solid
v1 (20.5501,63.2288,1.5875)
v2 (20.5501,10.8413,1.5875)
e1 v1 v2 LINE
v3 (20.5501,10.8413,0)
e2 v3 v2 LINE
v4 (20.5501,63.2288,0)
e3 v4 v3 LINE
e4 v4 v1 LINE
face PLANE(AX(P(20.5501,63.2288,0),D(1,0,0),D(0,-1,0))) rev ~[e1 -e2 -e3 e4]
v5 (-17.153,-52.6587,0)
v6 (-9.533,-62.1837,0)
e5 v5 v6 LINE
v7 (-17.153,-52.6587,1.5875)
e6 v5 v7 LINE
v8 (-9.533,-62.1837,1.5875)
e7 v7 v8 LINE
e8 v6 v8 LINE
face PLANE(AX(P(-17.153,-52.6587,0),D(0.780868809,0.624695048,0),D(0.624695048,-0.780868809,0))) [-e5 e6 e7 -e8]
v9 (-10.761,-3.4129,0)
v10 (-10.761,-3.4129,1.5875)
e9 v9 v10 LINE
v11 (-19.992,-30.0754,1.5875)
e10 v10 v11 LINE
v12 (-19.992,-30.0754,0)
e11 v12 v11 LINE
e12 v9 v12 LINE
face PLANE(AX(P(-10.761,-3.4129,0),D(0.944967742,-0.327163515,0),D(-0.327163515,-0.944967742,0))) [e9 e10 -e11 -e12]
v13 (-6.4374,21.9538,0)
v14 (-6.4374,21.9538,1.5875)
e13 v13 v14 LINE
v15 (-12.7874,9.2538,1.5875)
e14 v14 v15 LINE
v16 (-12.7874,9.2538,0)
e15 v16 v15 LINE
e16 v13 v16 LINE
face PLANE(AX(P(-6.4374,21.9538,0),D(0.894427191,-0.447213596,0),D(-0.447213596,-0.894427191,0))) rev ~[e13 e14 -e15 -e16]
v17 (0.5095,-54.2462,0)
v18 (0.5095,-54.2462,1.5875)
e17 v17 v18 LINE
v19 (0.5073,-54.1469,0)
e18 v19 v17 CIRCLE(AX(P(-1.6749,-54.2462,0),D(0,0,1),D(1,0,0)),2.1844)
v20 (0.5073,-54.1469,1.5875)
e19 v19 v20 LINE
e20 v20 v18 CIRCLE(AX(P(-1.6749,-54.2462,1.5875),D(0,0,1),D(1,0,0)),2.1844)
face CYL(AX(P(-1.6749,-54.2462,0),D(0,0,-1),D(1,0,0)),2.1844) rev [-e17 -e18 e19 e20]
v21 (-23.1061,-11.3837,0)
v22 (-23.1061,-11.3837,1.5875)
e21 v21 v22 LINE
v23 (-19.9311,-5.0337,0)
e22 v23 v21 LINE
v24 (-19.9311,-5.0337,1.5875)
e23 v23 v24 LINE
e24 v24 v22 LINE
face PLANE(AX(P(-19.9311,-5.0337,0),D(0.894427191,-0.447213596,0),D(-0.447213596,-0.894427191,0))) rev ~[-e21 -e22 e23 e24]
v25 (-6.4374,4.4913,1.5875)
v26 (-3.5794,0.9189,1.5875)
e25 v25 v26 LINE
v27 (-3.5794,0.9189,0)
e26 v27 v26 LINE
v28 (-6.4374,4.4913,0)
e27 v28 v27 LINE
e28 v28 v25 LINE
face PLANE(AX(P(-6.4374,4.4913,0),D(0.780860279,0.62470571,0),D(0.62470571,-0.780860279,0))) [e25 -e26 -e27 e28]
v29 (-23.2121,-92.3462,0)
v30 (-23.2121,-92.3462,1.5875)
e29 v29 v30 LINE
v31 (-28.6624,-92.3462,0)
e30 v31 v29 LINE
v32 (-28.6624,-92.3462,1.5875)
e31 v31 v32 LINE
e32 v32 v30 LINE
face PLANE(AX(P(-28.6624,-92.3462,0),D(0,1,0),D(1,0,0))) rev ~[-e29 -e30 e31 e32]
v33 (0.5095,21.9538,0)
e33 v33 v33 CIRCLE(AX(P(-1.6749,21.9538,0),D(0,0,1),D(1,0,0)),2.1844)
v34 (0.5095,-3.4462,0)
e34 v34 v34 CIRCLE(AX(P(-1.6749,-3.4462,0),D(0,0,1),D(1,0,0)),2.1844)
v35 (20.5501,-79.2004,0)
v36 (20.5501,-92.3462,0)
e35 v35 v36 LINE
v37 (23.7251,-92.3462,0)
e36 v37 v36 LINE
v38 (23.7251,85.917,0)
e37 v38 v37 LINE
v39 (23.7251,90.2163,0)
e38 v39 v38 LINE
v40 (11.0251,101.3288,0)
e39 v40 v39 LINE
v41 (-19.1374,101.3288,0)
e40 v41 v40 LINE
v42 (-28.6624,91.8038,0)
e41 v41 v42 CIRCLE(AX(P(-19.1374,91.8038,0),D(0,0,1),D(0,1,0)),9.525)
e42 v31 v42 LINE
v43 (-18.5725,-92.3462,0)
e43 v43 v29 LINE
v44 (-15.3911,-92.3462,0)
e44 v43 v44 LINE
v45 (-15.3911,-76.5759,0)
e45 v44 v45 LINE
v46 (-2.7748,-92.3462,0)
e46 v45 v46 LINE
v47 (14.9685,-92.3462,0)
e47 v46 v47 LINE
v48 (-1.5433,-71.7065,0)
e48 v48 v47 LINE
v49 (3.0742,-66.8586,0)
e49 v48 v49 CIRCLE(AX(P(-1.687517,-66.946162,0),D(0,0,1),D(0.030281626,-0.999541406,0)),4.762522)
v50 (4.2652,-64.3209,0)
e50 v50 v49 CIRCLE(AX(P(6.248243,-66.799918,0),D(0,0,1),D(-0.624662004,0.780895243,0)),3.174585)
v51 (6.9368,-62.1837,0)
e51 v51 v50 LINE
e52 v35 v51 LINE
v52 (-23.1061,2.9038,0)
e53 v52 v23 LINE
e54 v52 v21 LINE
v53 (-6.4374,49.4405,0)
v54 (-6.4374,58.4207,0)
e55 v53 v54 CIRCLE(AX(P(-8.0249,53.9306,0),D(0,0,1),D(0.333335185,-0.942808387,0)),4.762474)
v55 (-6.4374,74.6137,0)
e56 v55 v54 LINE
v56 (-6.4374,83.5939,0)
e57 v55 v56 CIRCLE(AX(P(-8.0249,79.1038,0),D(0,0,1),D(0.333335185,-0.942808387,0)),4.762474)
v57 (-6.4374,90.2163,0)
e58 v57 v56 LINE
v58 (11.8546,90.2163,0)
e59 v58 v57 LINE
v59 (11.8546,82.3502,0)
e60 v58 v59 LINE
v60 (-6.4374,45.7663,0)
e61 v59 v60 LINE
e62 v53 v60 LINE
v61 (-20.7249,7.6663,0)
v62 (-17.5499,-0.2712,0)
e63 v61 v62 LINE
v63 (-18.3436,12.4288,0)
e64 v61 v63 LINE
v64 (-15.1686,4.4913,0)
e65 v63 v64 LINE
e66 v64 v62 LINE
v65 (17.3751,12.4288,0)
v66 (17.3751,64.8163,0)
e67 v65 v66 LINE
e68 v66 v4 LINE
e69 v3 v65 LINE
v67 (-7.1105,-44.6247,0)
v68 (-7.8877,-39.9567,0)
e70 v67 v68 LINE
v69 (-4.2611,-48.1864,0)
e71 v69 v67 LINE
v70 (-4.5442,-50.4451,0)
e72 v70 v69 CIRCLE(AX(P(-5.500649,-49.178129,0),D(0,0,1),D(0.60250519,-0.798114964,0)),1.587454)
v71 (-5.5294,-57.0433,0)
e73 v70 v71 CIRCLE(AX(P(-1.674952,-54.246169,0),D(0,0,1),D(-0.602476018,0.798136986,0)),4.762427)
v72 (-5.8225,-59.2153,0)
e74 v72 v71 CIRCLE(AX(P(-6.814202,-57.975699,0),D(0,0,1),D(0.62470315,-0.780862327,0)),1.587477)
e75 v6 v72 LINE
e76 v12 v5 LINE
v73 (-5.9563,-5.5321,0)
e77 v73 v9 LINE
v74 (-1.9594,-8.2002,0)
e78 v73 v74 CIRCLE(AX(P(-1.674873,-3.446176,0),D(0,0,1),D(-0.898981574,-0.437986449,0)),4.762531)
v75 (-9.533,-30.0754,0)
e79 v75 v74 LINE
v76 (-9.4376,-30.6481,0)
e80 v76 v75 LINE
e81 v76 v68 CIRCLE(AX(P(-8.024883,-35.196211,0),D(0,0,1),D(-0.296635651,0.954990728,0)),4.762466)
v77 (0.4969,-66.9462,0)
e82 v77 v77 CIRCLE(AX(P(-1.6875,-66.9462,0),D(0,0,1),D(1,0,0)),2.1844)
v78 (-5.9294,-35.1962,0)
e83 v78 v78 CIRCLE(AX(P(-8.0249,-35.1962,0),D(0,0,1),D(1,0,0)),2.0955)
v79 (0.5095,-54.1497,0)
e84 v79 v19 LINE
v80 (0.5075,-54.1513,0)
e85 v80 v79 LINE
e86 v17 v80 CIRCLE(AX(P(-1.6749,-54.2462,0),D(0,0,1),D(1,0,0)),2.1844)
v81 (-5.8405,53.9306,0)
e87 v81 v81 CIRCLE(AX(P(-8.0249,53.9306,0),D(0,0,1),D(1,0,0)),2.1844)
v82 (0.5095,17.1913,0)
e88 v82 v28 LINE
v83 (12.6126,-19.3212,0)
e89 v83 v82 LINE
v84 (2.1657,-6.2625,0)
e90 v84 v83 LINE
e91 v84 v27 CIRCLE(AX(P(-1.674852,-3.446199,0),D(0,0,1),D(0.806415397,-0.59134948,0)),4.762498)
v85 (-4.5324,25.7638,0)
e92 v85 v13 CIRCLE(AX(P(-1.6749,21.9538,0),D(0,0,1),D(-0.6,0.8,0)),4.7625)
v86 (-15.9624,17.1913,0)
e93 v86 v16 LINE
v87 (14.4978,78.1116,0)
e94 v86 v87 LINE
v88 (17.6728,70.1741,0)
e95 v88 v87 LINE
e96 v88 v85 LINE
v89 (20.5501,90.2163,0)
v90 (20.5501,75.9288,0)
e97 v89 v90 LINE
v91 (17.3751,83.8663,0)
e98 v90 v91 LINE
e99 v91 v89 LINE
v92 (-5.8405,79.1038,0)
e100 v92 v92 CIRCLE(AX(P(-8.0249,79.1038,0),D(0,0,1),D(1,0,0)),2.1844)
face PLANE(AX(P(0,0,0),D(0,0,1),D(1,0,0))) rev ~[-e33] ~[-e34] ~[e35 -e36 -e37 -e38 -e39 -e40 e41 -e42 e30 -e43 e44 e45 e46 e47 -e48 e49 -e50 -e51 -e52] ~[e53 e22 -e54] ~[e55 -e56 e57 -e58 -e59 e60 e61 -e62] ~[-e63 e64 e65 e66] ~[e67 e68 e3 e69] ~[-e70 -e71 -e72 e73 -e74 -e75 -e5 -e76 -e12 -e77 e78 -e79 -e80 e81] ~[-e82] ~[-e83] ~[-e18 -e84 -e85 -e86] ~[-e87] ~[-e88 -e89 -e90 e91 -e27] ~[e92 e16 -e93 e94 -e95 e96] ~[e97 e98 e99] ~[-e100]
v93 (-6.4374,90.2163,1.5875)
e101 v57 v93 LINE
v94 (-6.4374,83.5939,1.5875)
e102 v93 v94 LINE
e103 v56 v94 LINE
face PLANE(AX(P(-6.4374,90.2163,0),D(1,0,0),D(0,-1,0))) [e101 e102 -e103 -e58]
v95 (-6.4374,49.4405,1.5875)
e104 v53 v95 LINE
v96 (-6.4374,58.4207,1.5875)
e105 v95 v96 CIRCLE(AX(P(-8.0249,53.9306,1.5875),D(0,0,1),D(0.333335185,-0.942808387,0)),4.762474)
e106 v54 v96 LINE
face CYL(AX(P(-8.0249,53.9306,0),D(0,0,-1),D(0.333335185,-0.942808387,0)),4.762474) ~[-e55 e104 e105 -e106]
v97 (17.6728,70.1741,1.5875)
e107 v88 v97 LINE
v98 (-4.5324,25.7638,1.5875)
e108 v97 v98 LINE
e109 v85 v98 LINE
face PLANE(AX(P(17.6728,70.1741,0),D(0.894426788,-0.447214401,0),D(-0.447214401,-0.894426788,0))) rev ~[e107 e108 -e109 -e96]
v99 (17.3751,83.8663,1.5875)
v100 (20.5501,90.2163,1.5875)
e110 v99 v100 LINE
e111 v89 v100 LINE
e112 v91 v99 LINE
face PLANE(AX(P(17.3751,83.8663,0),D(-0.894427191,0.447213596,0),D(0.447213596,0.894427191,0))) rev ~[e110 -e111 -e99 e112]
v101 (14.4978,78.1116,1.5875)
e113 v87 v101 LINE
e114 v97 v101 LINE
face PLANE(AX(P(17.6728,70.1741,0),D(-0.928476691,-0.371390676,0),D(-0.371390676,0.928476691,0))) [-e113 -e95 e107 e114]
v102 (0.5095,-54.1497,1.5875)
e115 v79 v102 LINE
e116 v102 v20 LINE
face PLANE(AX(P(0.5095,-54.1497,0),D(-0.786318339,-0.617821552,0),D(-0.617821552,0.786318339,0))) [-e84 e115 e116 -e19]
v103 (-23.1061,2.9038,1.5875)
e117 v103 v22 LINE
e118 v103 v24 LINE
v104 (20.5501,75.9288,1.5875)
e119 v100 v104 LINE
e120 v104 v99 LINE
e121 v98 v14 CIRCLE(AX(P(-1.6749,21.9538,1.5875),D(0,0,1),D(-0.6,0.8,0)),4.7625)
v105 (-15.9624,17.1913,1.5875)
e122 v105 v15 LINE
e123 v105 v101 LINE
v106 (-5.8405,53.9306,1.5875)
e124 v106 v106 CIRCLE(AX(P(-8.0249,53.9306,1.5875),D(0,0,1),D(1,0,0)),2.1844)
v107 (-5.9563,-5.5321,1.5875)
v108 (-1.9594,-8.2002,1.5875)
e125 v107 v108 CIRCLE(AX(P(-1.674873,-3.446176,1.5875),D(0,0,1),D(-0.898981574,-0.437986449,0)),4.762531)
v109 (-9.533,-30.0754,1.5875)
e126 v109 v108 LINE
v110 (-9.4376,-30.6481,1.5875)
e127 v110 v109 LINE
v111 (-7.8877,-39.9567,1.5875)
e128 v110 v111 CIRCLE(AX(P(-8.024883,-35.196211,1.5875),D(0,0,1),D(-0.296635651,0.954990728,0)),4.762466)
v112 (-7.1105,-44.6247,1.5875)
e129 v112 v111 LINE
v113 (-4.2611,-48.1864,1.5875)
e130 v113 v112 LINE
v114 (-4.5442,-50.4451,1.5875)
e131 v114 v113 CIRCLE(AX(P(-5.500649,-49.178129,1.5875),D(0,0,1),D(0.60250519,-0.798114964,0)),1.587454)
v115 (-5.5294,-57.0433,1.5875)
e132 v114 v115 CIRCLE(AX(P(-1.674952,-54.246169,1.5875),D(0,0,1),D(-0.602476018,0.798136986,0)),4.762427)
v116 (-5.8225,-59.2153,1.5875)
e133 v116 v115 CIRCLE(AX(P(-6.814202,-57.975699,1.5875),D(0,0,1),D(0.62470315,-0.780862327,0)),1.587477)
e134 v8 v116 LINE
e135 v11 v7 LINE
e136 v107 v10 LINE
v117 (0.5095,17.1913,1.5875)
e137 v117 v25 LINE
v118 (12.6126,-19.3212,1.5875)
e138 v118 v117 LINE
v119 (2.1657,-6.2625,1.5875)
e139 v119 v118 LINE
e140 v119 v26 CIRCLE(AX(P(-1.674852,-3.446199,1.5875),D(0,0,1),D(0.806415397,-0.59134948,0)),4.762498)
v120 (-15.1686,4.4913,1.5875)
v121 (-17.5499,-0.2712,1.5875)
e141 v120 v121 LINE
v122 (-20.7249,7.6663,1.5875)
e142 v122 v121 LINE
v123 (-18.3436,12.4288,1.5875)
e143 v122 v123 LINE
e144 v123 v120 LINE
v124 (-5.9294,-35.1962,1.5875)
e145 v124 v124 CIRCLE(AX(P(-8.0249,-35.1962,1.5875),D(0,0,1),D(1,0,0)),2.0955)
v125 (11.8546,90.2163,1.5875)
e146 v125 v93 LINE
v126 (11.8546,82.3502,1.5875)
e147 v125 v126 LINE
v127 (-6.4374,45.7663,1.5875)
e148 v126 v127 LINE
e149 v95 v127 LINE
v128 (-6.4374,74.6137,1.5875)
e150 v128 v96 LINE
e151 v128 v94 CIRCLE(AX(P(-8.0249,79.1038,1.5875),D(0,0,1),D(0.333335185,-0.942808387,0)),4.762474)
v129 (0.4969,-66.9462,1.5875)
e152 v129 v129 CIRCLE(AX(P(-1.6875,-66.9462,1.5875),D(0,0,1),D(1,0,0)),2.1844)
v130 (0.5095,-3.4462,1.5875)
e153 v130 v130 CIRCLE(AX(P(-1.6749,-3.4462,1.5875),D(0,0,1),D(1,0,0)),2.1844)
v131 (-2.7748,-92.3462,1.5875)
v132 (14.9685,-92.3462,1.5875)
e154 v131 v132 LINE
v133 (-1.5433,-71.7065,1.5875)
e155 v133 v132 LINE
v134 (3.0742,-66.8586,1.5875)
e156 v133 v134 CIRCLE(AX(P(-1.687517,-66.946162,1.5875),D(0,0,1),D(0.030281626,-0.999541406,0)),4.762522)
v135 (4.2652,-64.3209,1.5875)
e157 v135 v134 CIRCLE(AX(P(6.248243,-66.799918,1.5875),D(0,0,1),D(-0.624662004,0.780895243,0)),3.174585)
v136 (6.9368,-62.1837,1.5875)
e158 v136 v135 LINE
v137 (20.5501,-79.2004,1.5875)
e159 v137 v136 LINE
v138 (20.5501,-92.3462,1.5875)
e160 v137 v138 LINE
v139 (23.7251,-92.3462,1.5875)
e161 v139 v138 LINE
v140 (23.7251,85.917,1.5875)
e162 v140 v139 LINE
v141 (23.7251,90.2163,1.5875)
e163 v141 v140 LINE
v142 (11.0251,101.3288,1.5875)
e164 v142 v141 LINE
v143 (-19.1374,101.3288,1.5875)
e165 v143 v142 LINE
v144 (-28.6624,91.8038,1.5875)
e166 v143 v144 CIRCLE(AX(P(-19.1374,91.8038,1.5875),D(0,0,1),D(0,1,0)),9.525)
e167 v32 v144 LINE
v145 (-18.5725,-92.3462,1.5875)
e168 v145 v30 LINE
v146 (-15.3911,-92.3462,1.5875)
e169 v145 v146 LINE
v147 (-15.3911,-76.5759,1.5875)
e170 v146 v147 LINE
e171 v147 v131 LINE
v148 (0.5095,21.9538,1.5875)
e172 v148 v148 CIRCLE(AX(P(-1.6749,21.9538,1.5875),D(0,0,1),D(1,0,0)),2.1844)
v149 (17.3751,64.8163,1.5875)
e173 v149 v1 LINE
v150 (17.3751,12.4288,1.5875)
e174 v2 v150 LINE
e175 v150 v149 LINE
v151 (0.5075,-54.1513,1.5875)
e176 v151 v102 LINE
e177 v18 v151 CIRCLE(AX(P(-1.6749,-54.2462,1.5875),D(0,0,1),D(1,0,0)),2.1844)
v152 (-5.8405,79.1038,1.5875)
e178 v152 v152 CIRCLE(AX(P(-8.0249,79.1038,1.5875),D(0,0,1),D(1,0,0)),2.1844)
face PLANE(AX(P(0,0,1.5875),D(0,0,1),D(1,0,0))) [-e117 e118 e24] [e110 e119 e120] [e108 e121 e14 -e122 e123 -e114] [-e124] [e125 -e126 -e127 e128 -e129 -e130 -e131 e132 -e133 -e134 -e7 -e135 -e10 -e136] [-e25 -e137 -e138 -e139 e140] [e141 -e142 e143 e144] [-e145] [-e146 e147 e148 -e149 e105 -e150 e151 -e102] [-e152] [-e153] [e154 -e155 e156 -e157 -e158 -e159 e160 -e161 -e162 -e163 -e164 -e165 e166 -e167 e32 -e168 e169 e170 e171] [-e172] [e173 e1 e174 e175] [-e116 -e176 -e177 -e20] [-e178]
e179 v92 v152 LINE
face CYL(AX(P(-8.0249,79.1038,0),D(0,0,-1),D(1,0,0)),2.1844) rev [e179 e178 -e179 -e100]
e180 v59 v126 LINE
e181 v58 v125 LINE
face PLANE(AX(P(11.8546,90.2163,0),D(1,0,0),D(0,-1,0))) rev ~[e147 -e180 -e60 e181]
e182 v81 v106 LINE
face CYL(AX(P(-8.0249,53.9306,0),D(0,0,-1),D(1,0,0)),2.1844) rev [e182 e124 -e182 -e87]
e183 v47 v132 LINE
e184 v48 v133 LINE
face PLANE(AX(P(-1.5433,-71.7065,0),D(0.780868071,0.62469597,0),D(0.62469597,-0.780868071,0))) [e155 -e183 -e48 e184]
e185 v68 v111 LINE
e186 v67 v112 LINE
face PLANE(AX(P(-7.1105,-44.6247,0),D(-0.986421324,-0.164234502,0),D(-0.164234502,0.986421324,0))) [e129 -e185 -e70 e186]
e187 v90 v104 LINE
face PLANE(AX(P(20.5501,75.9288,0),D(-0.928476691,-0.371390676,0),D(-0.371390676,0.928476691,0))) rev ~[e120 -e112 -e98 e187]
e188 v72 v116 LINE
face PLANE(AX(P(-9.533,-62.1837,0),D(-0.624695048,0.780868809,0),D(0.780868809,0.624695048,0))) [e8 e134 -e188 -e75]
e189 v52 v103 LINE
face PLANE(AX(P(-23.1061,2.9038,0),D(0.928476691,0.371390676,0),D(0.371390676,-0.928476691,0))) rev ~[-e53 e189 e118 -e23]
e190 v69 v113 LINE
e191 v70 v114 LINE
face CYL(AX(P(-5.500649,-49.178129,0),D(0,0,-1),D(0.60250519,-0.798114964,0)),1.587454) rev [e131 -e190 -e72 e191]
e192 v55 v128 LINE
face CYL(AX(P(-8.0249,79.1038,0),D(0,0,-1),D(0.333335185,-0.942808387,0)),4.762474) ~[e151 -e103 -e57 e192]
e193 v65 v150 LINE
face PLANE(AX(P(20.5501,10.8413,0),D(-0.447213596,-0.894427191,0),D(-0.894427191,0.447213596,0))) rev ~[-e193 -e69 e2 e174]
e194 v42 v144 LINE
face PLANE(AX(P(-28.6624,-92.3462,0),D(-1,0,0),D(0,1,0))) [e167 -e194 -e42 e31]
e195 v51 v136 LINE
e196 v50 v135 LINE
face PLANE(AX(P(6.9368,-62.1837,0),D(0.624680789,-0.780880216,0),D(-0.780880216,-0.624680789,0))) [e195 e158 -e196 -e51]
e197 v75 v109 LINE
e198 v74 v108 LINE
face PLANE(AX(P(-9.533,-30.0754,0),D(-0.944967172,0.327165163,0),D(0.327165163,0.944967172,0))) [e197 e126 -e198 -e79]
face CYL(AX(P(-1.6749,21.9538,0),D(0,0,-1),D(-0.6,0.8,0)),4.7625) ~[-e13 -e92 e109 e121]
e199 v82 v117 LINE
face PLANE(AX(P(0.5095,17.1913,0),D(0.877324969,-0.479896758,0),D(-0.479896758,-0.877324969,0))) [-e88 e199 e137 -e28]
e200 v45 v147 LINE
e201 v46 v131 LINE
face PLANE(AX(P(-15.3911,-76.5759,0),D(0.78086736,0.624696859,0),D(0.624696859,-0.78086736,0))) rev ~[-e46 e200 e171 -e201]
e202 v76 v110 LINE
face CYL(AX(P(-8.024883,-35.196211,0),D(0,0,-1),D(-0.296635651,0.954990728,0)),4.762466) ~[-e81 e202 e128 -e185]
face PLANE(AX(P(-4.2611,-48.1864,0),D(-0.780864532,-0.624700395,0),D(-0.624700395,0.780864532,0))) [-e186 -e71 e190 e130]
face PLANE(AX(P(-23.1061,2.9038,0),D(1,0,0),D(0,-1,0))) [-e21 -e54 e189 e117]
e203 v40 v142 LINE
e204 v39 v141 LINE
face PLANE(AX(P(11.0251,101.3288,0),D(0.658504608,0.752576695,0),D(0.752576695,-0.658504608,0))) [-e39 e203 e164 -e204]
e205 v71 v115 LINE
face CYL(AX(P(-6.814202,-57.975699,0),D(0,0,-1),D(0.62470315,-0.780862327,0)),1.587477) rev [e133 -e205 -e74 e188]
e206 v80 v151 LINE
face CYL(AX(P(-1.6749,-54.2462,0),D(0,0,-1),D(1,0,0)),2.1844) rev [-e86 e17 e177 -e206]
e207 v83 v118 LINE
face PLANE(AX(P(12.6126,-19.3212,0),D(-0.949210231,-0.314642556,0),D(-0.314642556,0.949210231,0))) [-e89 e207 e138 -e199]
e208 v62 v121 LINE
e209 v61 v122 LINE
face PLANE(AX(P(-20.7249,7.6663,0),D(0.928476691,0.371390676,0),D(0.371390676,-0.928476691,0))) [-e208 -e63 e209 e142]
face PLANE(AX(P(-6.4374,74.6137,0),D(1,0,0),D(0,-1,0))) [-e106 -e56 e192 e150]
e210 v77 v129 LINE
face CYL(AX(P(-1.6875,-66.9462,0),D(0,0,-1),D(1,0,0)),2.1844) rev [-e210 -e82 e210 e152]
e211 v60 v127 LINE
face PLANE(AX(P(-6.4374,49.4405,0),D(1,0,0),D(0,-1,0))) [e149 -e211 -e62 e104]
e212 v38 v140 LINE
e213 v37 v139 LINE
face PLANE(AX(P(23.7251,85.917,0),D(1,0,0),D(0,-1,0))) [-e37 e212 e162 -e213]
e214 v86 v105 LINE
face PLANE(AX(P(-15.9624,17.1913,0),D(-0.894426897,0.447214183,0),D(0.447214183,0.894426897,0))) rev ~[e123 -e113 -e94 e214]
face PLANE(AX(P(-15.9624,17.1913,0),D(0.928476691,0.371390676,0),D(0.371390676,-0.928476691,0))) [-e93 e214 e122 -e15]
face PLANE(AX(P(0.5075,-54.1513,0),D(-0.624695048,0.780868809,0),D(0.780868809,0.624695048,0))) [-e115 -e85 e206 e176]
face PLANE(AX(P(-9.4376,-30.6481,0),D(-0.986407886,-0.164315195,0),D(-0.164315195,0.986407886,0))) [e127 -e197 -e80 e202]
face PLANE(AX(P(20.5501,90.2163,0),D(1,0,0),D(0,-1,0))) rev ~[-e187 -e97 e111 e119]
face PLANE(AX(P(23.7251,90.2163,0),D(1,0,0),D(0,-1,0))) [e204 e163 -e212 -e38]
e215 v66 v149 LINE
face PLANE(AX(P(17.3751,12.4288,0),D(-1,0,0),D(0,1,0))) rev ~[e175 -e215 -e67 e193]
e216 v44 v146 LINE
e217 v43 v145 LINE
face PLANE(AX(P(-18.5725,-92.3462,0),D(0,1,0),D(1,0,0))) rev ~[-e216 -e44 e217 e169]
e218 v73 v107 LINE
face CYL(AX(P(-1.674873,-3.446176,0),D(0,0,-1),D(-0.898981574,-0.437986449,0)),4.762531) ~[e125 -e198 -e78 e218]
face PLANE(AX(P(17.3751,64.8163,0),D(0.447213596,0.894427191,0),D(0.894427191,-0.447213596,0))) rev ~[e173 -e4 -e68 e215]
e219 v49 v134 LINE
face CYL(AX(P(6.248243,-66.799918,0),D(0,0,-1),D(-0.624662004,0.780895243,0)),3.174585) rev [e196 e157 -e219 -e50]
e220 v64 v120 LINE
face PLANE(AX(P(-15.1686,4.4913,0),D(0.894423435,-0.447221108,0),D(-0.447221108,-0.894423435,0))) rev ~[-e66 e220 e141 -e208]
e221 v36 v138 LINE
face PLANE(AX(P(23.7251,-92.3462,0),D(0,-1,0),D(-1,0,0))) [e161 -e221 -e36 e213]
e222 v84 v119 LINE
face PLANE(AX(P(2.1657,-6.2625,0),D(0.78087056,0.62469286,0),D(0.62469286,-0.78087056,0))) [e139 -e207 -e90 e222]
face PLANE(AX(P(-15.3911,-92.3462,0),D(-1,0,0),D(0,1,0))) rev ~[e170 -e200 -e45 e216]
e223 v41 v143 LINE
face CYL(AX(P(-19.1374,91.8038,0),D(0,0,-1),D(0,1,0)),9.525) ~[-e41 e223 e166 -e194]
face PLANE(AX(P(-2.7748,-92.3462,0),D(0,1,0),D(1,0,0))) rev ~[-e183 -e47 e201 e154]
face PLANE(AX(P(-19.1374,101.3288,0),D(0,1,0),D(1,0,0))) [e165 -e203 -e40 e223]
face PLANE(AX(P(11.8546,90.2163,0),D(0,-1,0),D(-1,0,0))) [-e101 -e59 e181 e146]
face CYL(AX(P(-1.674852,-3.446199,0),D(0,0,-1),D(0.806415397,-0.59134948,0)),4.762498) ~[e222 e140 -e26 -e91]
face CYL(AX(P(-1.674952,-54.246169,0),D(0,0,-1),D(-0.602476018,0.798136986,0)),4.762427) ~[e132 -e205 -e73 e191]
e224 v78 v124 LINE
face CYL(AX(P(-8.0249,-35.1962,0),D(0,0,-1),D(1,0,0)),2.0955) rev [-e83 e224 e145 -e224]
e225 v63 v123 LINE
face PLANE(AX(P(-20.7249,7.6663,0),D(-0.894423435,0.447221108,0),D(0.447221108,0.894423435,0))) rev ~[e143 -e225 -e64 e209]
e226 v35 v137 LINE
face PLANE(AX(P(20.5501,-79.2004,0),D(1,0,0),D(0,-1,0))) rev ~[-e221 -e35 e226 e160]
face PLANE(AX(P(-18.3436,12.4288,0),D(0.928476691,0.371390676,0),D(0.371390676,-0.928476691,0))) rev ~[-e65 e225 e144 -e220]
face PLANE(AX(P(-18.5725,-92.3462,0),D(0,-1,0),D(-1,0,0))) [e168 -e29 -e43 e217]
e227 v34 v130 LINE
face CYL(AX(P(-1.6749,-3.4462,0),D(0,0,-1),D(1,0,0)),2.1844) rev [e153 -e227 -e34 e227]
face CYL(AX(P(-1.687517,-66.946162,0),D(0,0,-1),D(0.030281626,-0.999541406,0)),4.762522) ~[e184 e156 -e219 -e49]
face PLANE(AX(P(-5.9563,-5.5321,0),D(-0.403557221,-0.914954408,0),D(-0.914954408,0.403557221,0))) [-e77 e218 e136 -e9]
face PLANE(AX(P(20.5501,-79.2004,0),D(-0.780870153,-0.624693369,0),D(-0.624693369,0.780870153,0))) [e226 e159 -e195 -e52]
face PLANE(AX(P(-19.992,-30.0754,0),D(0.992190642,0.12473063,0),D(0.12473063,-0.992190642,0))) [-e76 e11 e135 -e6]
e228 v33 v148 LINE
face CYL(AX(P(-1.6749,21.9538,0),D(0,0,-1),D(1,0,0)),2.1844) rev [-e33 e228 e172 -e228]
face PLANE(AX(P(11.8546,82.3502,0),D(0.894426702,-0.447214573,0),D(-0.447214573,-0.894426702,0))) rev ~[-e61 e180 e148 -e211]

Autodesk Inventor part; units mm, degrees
ref_plane "YZ Plane" through (0, 0, 0) normal (1, 0, 0) x (0, 1, 0)
ref_plane "XZ Plane" through (0, 0, 0) normal (0, 1, 0) x (-1, 0, 0)
ref_plane "XY Plane" through (0, 0, 0) normal (0, 0, 1) x (1, 0, 0)
sketch "Sketch1" plane through (0, 0, 0) normal (0, 0, 1) x (1, 0, 0)
  circle A0 centre (-1.6749, 21.9538) radius 2.1844
  circle A1 centre (-1.6749, -3.4462) radius 2.1844
  line L0 (23.7251, 85.917) -> (23.7251, -92.3462)
  line L1 (-28.6624, -92.3462) -> (-28.6624, 91.8038)
  line L2 (17.3751, 64.8163) -> (20.5501, 63.2288)
  line L3 (20.5501, 63.2288) -> (20.5501, 10.8413)
  line L4 (20.5501, 10.8413) -> (17.3751, 12.4288)
  line L5 (17.3751, 12.4288) -> (17.3751, 64.8163)
  line L6 (20.5501, 75.9288) -> (17.3751, 83.8663)
  line L7 (20.5501, 90.2163) -> (20.5501, 75.9288)
  line L8 (17.6728, 70.1741) -> (14.4978, 78.1116)
  line L9 (17.3751, 83.8663) -> (20.5501, 90.2163)
  line L10 (-18.3436, 12.4288) -> (-15.1686, 4.4913)
  line L11 (-15.9624, 17.1913) -> (-12.7874, 9.2538)
  line L12 (-15.9624, 17.1913) -> (14.4978, 78.1116)
  line L13 (-23.1061, 2.9038) -> (-19.9311, -5.0337)
  line L14 (-23.1061, 2.9038) -> (-23.1061, -11.3837)
  line L15 (-20.7249, 7.6663) -> (-18.3436, 12.4288)
  line L16 (-15.1686, 4.4913) -> (-17.5499, -0.2712)
  line L17 (-19.9311, -5.0337) -> (-23.1061, -11.3837)
  line L18 (11.8546, 90.2163) -> (11.8546, 82.3502)
  line L19 (11.8546, 90.2163) -> (-6.4374, 90.2163)
  line L20 (11.8546, 82.3502) -> (-6.4374, 45.7663)
  line L21 (0.5095, 17.1913) -> (-6.4374, 4.4913)
  line L22 (12.6126, -19.3212) -> (0.5095, 17.1913)
  line L23 (-10.761, -3.4129) -> (-19.992, -30.0754)
  line L24 (-19.992, -30.0754) -> (-17.153, -52.6587)
  line L25 (-17.153, -52.6587) -> (-9.533, -62.1837)
  line L26 (-9.533, -30.0754) -> (-1.9594, -8.2002)
  line L27 (-5.9563, -5.5321) -> (-10.761, -3.4129)
  line L28 (20.5501, -79.2004) -> (20.5501, -92.3462)
  line L29 (6.9368, -62.1837) -> (4.2652, -64.3209)
  line L30 (-1.5433, -71.7065) -> (14.9685, -92.3462)
  arc A2 (-1.5433, -71.7065) -> (3.0742, -66.8586) centre (-1.6875, -66.9462) ccw
  circle A3 centre (-1.6875, -66.9462) radius 2.1844
  arc A4 (4.2652, -64.3209) -> (3.0742, -66.8586) centre (6.2486, -66.8002) ccw
  line L31 (20.5501, -79.2004) -> (6.9368, -62.1837)
  line L32 (23.7251, -92.3462) -> (20.5501, -92.3462)
  circle A5 centre (-1.6749, -54.2462) radius 2.1844
  arc A6 (-4.5442, -50.4451) -> (-5.5294, -57.0433) centre (-1.6749, -54.2462) ccw
  line L33 (-9.533, -62.1837) -> (-5.8225, -59.2153)
  line L34 (0.5075, -54.1513) -> (0.5095, -54.1497)
  line L35 (0.5095, -54.1497) -> (0.5073, -54.1469)
  line L36 (-4.2611, -48.1864) -> (-7.1105, -44.6247)
  arc A7 (-4.5442, -50.4451) -> (-4.2611, -48.1864) centre (-5.5007, -49.1781) ccw
  arc A8 (-5.8225, -59.2153) -> (-5.5294, -57.0433) centre (-6.8142, -57.9757) ccw
  arc A9 (-4.5324, 25.7638) -> (-6.4374, 21.9538) centre (-1.6749, 21.9538) ccw
  line L37 (17.6728, 70.1741) -> (-4.5324, 25.7638)
  line L38 (-6.4374, 21.9538) -> (-12.7874, 9.2538)
  line L39 (-6.4374, 4.4913) -> (-3.5794, 0.9189)
  line L40 (2.1657, -6.2625) -> (12.6126, -19.3212)
  arc A10 (2.1657, -6.2625) -> (-3.5794, 0.9189) centre (-1.6749, -3.4462) ccw
  arc A11 (-5.9563, -5.5321) -> (-1.9594, -8.2002) centre (-1.6749, -3.4462) ccw
  line L41 (14.9685, -92.3462) -> (44.3118, -92.3462) construction
  line L42 (-2.7748, -92.3462) -> (14.9685, -92.3462)
  line L43 (-28.6624, -92.3462) -> (-23.2121, -92.3462)
  line L44 (-18.5725, -92.3462) -> (-28.6624, -92.3462)
  line L45 (-20.7249, 7.6663) -> (-17.5499, -0.2712)
  line L46 (-28.6624, 98.1538) -> (-28.6624, 101.3288)
  line L47 (-19.1374, 101.3288) -> (11.0251, 101.3288)
  line L48 (23.7251, 90.2163) -> (23.7251, 85.917)
  line L49 (11.0251, 101.3288) -> (23.7251, 90.2163)
  arc A12 (-19.1374, 101.3288) -> (-28.6624, 91.8038) centre (-19.1374, 91.8038) ccw
  arc A13 (-6.4374, 74.6137) -> (-6.4374, 83.5939) centre (-8.0249, 79.1038) ccw
  circle A14 centre (-8.0249, 79.1038) radius 2.1844
  line L50 (-6.4374, 90.2163) -> (-6.4374, 83.5939)
  line L51 (-18.5725, -92.3462) -> (-15.3911, -92.3462)
  line L52 (-15.3911, -92.3462) -> (-15.3911, -76.5759)
  line L53 (-15.3911, -76.5759) -> (-2.7748, -92.3462)
  arc A15 (-6.4374, 49.4405) -> (-6.4374, 58.4207) centre (-8.0249, 53.9306) ccw
  circle A16 centre (-8.0249, 53.9306) radius 2.1844
  line L54 (-6.4374, 74.6137) -> (-6.4374, 58.4207)
  line L55 (-6.4374, 49.4405) -> (-6.4374, 45.7663)
  line L56 (-1.6749, -54.2462) -> (17.3751, -54.2462) construction
  circle A17 centre (-8.0249, -35.1962) radius 2.0955
  arc A18 (-9.4376, -30.6481) -> (-7.8877, -39.9567) centre (-8.0249, -35.1962) ccw
  line L57 (-9.4376, -30.6481) -> (-9.533, -30.0754)
  line L58 (-7.1105, -44.6247) -> (-7.8877, -39.9567)
  point P0 (0, 0)
  point P1 (2.838, -65.4627)
  point P2 (-4.4495, -58.1169)
  point P3 (-3.0588, -49.6892)
  dimension "d0" = 4.3688
  dimension "d1" = 4.3688
  dimension "d3" = 9.525
  dimension "d4" = 4.3688
  dimension "d5" = 3.175
  dimension "d6" = 9.525
  dimension "d7" = 1.5875
  dimension "d8" = 9.525
  dimension "d14" = 3.175
  dimension "d15" = 9.525
  dimension "d18" = 9.525
  dimension "d19" = 4.3688
  dimension "d20" = 3.1814
  dimension "d22" = 9.525
  dimension "d23" = 4.3688
  dimension "d27" = 4.191
  dimension "d28" = 9.525
extrude "Extrusion1" add sketch "Sketch1" along normal blind 1.5875
equation "\"BendRadius\" = Thickness"
equation "\"BendReliefWidth\" = Thickness"
equation "\"BendReliefDepth\" = 0.5 * Thickness"
equation "\"CornerReliefSize\" = 4 * Thickness"
equation "\"MinimumRemnant\" = 2 * Thickness"
equation "\"TransitionRadius\" = BendRadius"
equation "\"JacobiRadiusSize\" = BendRadius"
equation "\"GapSize\" = Thickness"
equation "\"Thickness\" = 1.5875"
properties part number "sideplate" material "Acetal Resin, White"
